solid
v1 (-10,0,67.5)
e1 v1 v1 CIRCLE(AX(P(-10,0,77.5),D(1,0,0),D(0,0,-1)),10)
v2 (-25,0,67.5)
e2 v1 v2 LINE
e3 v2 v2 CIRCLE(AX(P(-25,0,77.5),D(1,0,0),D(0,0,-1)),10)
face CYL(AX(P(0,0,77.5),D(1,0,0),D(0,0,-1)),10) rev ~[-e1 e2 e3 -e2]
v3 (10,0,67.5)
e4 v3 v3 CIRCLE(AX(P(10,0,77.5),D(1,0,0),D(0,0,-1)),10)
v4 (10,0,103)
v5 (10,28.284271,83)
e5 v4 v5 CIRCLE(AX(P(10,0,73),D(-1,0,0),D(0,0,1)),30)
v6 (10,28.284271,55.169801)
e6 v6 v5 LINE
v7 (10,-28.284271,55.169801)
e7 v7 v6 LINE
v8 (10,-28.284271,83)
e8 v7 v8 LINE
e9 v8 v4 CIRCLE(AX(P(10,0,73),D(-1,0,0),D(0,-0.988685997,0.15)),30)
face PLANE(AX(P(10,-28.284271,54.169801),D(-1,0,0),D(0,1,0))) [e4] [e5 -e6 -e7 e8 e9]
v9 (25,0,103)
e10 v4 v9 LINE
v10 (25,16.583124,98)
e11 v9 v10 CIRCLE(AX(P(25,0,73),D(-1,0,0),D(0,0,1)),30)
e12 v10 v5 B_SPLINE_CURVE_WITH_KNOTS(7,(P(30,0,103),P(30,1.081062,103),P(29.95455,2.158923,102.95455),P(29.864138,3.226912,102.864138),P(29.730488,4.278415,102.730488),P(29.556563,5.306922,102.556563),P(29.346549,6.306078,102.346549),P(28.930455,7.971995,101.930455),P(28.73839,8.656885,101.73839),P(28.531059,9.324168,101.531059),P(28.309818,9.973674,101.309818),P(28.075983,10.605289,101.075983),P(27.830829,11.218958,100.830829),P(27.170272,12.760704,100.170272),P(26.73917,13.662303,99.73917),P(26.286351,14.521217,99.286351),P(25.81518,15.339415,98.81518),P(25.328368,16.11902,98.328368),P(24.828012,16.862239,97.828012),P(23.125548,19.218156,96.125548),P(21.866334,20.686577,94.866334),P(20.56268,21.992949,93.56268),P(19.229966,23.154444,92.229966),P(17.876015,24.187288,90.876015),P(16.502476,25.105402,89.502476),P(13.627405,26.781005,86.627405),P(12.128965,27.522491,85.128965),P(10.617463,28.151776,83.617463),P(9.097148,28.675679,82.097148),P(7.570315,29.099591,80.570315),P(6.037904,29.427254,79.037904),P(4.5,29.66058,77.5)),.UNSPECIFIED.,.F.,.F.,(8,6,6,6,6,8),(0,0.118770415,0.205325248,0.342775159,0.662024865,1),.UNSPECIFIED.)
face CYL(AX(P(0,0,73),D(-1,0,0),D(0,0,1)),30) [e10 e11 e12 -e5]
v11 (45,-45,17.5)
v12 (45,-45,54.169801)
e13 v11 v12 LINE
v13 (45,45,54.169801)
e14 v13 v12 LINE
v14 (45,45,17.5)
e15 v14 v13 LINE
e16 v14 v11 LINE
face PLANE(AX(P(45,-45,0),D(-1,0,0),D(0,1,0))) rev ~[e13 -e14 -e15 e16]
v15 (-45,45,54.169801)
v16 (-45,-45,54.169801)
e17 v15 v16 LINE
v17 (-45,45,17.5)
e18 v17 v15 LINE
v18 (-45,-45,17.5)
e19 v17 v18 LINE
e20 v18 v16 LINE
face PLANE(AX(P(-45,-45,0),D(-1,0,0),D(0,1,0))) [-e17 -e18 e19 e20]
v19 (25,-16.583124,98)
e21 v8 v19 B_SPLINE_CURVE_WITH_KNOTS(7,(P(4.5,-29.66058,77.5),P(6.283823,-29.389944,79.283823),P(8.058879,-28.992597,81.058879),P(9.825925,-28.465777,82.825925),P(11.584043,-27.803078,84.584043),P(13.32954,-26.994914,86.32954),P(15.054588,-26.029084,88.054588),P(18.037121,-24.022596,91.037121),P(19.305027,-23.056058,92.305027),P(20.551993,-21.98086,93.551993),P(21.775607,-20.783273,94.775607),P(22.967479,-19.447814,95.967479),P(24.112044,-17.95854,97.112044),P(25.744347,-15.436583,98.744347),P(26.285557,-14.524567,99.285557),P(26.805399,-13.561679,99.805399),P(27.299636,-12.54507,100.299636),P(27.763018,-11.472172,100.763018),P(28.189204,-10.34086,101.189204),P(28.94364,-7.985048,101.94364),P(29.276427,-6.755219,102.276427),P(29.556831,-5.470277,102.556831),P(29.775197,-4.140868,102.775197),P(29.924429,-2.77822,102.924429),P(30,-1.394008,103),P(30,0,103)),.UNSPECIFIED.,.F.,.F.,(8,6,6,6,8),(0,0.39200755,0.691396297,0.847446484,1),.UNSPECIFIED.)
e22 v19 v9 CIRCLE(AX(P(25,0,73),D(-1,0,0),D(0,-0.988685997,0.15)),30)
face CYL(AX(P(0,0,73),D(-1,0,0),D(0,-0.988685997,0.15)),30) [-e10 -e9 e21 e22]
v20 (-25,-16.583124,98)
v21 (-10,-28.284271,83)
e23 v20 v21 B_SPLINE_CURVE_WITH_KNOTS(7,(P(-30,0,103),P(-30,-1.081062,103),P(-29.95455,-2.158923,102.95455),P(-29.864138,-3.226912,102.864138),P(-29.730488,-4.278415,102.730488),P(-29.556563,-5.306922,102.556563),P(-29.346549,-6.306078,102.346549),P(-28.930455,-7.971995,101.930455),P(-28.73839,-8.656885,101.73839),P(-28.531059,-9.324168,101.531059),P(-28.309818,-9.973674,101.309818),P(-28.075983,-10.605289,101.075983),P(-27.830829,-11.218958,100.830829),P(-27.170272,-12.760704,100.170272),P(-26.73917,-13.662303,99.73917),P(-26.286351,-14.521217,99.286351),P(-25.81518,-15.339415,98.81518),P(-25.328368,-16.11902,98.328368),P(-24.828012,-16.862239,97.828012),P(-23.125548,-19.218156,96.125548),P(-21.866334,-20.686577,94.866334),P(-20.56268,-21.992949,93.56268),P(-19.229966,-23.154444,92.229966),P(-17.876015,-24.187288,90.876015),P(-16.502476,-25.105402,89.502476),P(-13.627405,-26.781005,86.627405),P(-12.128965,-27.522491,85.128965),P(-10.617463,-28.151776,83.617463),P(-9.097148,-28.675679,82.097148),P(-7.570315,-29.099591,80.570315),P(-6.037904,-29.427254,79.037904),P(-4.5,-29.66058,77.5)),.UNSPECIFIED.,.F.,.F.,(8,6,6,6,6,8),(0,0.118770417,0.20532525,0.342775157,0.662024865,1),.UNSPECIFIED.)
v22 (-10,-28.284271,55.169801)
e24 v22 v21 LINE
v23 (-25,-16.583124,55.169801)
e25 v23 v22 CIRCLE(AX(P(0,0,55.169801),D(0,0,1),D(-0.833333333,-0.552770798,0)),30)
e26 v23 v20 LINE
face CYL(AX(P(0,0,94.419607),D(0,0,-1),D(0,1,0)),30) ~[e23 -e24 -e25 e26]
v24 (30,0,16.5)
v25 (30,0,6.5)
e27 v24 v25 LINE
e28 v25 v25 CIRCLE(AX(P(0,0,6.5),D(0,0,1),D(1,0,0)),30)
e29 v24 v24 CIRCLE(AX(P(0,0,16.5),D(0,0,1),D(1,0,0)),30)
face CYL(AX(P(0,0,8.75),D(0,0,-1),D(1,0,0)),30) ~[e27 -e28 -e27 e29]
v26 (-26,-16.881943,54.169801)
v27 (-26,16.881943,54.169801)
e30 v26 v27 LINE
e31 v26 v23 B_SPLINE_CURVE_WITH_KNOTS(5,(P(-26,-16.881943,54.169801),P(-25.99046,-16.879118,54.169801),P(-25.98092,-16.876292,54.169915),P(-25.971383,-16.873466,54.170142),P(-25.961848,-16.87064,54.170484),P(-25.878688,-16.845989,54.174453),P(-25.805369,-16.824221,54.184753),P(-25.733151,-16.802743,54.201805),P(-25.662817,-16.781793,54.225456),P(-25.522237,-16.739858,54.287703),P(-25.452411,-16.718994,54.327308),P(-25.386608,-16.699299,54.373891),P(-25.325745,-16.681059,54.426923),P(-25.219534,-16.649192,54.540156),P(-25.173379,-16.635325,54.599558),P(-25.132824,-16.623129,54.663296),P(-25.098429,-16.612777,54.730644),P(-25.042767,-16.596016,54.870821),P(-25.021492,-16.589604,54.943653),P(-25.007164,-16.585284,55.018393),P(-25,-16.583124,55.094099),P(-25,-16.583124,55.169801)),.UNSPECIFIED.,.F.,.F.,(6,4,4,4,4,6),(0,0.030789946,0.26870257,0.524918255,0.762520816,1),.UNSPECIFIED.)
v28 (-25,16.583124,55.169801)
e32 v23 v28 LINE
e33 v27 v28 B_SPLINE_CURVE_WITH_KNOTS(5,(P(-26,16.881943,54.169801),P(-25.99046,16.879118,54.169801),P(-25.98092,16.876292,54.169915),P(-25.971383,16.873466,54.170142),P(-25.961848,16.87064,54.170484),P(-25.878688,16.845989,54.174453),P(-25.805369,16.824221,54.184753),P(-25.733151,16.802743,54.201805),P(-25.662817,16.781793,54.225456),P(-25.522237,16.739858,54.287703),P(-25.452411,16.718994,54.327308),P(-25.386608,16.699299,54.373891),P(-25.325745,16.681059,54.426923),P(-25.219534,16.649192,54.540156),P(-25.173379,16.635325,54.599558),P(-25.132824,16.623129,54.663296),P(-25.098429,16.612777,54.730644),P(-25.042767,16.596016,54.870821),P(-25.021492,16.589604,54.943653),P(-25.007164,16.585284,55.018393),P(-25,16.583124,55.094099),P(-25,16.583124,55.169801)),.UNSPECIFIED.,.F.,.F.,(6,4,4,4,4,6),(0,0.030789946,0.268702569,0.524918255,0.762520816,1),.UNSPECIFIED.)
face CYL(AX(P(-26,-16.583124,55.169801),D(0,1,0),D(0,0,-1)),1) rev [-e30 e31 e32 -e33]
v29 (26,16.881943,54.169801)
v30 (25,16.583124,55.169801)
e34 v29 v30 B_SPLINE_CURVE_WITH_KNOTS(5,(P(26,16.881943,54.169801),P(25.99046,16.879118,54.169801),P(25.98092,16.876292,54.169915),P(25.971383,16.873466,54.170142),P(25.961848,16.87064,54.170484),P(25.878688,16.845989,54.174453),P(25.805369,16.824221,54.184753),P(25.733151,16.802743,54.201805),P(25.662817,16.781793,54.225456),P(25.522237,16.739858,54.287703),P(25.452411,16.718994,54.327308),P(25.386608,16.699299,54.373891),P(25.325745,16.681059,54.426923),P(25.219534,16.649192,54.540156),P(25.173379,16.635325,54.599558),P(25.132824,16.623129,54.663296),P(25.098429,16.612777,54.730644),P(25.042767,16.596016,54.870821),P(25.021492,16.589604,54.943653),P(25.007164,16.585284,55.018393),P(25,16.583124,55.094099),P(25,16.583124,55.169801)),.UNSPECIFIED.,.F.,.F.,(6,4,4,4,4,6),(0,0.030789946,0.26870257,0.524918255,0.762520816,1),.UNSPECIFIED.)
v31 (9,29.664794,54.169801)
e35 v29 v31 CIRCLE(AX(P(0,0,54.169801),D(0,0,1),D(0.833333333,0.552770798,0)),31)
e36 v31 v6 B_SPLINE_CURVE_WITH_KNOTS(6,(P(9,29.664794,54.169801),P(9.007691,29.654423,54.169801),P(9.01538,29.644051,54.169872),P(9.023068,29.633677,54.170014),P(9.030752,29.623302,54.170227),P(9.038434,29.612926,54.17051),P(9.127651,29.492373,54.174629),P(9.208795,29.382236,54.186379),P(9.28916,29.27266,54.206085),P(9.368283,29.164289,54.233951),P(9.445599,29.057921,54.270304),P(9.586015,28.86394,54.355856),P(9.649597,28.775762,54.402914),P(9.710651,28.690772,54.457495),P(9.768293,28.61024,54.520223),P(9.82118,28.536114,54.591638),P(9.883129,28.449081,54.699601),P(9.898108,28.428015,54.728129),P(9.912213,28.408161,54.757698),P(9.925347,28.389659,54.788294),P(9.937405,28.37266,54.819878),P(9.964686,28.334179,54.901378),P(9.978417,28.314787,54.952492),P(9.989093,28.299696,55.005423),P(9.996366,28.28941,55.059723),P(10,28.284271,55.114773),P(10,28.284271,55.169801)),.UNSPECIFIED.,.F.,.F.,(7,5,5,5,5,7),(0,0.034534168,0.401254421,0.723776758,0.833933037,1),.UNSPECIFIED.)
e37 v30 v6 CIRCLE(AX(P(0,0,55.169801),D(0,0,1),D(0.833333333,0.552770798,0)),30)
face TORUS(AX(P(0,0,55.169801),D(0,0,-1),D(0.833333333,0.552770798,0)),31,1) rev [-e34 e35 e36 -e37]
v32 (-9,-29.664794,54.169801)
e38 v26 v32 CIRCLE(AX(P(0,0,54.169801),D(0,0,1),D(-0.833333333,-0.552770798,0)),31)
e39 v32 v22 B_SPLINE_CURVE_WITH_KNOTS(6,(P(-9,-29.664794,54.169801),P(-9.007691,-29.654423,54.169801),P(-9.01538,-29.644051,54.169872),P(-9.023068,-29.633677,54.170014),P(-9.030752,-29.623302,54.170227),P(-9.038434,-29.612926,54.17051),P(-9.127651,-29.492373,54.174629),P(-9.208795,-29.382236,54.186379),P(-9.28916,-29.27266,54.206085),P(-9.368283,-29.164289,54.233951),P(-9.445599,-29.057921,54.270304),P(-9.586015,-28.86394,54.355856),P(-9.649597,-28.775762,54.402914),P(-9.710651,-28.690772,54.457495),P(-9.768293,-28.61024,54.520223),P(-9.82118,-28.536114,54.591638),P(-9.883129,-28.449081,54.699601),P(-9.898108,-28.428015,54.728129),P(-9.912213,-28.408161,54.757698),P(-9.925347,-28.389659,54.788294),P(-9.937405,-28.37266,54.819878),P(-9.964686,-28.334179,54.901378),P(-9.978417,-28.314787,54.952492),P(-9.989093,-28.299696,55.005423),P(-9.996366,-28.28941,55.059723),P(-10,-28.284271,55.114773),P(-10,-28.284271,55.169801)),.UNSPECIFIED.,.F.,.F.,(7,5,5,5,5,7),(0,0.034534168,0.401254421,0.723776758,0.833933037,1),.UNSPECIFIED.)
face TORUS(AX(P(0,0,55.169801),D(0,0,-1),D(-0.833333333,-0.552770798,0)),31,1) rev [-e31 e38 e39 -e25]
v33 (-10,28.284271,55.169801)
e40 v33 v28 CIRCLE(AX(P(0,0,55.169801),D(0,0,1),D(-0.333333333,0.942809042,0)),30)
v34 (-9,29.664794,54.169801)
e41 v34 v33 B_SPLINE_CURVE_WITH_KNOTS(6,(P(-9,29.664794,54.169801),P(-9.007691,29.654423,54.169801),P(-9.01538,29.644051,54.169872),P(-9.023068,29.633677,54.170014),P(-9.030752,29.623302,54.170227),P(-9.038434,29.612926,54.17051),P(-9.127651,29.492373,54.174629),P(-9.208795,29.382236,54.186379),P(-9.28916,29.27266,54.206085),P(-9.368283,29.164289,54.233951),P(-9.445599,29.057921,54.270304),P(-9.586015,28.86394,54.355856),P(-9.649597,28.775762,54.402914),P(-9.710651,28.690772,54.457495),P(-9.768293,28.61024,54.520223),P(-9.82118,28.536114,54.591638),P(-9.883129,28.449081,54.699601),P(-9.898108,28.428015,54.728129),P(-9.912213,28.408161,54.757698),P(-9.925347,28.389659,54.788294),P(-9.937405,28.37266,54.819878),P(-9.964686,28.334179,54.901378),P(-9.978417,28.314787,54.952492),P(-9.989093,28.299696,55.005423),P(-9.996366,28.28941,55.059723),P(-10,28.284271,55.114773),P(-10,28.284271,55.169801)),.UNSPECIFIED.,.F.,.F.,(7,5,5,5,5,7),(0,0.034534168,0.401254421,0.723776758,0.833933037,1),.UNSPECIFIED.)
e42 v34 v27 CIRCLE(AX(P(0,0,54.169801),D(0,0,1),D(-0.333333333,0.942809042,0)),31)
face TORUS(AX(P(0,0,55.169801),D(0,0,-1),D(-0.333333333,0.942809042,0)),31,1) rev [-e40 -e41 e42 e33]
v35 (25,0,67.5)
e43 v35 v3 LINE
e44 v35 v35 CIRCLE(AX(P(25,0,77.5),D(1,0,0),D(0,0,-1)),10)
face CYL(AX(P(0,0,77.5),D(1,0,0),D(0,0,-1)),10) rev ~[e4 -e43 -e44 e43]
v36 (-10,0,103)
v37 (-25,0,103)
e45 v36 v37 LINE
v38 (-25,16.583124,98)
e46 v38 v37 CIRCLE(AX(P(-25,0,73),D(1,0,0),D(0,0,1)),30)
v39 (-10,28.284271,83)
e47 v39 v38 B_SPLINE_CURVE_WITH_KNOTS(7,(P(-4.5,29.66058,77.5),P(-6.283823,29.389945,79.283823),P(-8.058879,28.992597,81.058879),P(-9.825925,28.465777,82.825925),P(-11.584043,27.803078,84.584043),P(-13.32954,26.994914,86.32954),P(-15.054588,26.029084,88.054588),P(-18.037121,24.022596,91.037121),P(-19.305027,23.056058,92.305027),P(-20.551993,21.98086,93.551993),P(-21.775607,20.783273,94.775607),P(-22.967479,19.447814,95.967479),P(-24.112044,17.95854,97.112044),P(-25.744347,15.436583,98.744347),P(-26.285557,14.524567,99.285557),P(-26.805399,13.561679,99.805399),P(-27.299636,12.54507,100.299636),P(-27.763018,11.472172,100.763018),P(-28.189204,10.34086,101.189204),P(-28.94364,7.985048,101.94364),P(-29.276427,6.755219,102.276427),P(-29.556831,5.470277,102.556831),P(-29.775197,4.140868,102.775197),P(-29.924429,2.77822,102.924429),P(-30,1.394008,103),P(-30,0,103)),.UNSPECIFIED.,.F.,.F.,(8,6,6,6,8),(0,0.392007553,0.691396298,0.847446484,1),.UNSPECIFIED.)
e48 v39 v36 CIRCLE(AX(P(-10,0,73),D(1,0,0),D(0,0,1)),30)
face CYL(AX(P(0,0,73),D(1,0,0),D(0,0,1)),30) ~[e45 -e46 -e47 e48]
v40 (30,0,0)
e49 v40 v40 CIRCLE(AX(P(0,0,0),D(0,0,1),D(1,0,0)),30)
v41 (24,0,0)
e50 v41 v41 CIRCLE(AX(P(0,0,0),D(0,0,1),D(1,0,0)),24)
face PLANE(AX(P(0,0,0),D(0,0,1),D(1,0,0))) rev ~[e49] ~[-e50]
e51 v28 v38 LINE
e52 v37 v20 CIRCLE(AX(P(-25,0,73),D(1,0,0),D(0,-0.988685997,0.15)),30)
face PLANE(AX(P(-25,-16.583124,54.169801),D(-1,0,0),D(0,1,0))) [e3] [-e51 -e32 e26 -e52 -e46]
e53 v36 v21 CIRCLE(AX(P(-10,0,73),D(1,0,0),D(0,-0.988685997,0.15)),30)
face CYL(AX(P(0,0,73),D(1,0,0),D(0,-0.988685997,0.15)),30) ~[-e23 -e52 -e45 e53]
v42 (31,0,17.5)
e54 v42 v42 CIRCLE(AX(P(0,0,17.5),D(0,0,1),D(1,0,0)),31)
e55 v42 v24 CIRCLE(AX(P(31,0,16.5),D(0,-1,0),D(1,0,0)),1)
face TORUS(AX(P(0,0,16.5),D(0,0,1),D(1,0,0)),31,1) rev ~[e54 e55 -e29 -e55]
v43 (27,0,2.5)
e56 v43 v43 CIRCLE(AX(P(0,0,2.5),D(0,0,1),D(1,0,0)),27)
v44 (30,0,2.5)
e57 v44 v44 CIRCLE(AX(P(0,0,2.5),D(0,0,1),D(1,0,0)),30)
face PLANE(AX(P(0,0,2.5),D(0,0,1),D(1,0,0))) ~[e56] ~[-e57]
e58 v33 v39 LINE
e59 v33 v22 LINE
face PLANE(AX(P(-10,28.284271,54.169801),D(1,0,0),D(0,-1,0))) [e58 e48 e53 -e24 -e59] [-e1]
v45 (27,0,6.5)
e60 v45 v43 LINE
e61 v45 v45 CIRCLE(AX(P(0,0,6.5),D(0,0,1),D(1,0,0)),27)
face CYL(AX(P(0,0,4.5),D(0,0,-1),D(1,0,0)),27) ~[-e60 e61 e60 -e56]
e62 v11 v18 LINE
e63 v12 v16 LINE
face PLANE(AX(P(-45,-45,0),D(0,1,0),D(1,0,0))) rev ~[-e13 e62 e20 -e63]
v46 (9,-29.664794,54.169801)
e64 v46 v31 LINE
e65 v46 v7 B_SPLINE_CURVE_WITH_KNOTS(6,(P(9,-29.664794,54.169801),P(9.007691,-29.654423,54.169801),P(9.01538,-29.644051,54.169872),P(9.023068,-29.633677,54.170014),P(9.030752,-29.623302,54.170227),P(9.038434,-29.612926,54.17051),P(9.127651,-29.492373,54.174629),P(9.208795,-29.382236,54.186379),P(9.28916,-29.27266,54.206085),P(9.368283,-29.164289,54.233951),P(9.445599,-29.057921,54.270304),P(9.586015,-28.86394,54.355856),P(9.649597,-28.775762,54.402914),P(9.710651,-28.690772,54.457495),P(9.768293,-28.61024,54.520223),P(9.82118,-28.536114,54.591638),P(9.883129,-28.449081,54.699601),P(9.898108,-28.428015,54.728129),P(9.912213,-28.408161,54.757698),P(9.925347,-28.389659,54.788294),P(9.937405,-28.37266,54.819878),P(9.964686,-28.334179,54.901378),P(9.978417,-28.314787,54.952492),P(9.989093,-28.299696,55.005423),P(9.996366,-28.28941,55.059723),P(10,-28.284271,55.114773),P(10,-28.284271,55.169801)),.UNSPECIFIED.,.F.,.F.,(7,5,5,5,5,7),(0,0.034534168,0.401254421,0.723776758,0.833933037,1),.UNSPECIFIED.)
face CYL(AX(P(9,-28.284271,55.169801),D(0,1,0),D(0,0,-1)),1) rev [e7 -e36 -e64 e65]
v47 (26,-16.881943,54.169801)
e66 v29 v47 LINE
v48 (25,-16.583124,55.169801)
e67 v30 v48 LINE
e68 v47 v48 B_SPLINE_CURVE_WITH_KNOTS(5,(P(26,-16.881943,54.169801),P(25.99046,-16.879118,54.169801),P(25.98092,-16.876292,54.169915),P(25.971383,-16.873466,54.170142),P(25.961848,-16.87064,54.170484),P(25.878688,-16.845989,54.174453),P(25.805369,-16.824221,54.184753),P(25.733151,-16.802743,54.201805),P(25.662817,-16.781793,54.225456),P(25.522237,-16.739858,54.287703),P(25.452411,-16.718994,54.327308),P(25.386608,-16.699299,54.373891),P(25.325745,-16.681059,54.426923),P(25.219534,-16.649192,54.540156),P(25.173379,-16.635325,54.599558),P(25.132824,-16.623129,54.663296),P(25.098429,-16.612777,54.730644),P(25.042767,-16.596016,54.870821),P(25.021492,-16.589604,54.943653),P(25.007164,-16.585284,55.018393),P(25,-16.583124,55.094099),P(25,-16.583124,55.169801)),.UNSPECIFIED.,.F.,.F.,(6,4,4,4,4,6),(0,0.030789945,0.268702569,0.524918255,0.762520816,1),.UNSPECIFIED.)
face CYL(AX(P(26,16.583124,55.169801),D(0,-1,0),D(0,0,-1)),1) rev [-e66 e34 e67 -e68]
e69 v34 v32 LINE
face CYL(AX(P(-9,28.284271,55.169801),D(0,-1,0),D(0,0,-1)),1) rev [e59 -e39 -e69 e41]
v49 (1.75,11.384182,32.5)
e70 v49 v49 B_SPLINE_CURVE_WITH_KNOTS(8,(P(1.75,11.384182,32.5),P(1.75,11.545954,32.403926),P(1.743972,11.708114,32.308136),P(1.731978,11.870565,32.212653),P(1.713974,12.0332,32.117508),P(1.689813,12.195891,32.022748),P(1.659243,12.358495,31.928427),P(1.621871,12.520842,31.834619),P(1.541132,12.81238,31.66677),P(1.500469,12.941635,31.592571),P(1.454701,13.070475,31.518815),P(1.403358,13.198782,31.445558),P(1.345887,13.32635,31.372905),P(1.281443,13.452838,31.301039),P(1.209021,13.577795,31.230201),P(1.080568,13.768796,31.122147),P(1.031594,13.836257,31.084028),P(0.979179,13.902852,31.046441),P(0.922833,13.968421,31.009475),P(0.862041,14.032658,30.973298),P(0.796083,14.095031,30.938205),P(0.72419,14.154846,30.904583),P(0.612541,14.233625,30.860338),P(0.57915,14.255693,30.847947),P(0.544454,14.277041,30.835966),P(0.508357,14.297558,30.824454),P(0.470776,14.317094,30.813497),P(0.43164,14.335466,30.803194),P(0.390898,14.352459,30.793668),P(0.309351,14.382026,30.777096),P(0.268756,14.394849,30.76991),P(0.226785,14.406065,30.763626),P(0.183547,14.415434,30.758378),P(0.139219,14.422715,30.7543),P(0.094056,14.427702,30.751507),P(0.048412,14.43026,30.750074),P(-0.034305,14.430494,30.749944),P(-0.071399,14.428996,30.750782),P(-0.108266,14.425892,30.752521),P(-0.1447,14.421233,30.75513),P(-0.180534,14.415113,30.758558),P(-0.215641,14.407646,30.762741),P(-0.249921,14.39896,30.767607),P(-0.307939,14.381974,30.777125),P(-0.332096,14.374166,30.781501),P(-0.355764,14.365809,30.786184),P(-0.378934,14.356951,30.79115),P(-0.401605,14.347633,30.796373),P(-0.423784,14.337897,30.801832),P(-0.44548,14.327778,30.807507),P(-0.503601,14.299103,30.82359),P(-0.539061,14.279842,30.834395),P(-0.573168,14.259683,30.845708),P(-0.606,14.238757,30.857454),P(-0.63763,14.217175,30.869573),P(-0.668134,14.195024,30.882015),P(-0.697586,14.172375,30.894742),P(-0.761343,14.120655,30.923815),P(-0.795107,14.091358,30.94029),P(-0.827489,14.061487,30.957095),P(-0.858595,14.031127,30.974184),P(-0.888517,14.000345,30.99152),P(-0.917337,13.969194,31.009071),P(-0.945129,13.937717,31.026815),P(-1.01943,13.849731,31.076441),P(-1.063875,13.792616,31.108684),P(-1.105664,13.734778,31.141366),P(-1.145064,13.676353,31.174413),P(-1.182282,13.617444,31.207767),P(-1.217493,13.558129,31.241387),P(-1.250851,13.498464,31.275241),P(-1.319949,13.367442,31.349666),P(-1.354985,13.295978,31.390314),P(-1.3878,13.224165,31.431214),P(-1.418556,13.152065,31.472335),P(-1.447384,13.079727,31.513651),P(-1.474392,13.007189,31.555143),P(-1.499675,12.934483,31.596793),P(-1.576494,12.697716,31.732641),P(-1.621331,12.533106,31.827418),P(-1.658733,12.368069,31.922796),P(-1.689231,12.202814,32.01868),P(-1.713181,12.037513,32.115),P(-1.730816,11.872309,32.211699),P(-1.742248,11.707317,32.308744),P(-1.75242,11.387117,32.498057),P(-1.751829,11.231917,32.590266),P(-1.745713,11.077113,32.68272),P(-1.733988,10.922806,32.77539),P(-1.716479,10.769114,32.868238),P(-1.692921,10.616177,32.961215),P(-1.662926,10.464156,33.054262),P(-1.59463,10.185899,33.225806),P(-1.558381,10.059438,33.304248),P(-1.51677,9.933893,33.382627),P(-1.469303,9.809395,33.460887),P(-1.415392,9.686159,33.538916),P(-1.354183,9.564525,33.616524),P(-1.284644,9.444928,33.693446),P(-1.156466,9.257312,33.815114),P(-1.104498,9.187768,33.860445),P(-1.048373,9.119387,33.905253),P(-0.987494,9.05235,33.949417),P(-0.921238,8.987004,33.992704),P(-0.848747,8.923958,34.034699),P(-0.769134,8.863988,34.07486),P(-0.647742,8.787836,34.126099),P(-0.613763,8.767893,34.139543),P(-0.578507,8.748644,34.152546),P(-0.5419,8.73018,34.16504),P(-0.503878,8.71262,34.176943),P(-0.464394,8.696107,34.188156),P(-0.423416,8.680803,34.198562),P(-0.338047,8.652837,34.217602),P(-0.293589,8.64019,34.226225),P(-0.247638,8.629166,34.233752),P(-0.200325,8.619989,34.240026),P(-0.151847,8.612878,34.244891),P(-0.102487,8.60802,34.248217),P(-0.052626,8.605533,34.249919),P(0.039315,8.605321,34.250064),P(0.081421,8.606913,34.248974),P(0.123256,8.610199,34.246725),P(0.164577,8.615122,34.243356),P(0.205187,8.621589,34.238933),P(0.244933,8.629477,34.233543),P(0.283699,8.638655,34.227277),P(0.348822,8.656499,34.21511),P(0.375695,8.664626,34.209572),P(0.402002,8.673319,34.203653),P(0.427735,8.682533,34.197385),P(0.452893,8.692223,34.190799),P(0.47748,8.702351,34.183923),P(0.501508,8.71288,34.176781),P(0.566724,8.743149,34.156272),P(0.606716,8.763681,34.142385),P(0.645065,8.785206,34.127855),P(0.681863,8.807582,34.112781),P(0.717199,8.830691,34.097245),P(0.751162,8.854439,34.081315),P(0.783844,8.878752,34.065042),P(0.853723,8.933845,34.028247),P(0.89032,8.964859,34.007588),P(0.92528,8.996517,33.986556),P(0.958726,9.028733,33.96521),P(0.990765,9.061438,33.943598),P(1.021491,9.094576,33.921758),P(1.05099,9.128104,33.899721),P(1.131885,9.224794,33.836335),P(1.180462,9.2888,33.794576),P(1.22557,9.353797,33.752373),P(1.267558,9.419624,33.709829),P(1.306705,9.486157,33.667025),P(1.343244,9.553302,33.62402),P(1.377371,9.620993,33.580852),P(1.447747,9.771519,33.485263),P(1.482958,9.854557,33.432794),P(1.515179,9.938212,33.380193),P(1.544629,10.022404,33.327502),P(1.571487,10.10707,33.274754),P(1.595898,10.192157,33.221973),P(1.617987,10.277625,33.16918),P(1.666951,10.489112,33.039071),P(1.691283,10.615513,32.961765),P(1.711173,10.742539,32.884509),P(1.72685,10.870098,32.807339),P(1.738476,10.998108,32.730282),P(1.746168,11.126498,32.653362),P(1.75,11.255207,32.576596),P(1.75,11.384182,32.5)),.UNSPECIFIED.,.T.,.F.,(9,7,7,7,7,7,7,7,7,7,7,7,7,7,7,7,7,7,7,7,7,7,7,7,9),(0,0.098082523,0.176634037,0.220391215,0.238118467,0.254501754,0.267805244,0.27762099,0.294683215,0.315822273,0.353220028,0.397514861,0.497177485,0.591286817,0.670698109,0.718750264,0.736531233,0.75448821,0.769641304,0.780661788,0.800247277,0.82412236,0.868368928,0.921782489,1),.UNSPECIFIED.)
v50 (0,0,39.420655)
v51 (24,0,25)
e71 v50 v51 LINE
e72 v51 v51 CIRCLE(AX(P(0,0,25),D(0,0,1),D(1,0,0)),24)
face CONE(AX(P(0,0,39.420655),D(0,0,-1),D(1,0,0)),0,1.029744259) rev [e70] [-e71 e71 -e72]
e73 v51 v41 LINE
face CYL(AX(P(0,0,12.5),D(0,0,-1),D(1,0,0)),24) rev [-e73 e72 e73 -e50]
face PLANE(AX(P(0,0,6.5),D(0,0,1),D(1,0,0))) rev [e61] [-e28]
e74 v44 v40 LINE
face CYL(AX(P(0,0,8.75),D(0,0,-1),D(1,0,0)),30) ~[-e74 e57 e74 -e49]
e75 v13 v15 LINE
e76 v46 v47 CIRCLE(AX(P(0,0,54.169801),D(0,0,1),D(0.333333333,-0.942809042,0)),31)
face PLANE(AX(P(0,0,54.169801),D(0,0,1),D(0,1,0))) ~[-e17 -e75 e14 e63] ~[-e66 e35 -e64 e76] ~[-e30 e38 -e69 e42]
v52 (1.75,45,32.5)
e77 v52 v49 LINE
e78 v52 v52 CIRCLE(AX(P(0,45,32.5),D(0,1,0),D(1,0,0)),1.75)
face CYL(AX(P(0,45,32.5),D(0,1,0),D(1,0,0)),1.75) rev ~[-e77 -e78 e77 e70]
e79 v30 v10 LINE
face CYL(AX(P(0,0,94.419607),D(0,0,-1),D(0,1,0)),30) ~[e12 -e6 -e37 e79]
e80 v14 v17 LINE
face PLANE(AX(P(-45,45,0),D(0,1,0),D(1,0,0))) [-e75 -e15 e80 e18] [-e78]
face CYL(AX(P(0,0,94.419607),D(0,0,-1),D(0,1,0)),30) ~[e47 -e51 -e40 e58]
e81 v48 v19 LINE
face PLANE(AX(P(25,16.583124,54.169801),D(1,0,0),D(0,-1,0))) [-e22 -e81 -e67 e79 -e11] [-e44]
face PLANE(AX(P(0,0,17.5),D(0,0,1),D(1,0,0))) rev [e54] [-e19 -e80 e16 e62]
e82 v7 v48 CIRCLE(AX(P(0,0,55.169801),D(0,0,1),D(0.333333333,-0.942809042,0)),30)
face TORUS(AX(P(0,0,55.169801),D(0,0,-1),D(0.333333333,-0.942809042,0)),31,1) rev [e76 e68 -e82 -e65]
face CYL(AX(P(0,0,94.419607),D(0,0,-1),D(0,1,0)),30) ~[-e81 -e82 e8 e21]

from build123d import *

# Parameters (mm, degrees)
SKETCH2_W               = 90
SKETCH2_H               = 90
BOSS_EXTRUDE1_DEPTH     = 103
SKETCH4_W               = 24
SKETCH4_H               = 25
SKETCH4_W_2             = 40
SKETCH4_H_2             = 17.5
SKETCH4_W_3             = 3
SKETCH4_H_3             = 4
SKETCH5_R               = 10
CUT_EXTRUDE1_DEPTH      = 46
CUT_EXTRUDE1_DEPTH_BACK = 46
SKETCH6_W               = 80.499612835
SKETCH6_H               = 43.101198191
CUT_EXTRUDE2_DEPTH      = 46
CUT_EXTRUDE2_DEPTH_BACK = 46
CUT_EXTRUDE3_DEPTH      = 103
CUT_EXTRUDE4_REACH      = 92
SKETCH10_R              = 1.75
FILLET1_R               = 1


with BuildPart() as part:
    # Sketch2 → Boss-Extrude1 (new body)
    with BuildSketch(Plane.XY):
        Rectangle(SKETCH2_W, SKETCH2_H)
    extrude(amount=BOSS_EXTRUDE1_DEPTH)

    # Sketch4 → Cut-Revolve2 (revolve, cut)
    with BuildSketch(Plane(origin=(0, 0, 0), x_dir=(1, 0, 0), z_dir=(0, 1, 0))):
        with Locations((12, -12.5)):
            Rectangle(SKETCH4_W, SKETCH4_H)
        Polygon((0, -25), (0, -39.420654857), (24, -25), align=None)
        with Locations((50, -8.75)):
            Rectangle(SKETCH4_W_2, SKETCH4_H_2)
        with Locations((28.5, -4.5)):
            Rectangle(SKETCH4_W_3, SKETCH4_H_3)
    revolve(axis=Axis((0, 0, 0), (0, 0, 1)), mode=Mode.SUBTRACT)

    # Sketch5 → Cut-Extrude1 (cut, two sides)
    with BuildSketch(Plane(origin=(0, 0, 0), x_dir=(0, 0, -1), z_dir=(1, 0, 0))) as cut_extrude1_sk:
        with Locations((-77.5, 0)):
            Circle(SKETCH5_R)
    extrude(amount=CUT_EXTRUDE1_DEPTH, mode=Mode.SUBTRACT)
    extrude(cut_extrude1_sk.sketch, amount=-CUT_EXTRUDE1_DEPTH_BACK, mode=Mode.SUBTRACT)

    # Sketch6 → Cut-Revolve3 (revolve, cut)
    with BuildSketch(Plane(origin=(0, 0, 0), x_dir=(0, 0, -1), z_dir=(1, 0, 0))):
        with Locations((-94.419607416, 51.550599096)):
            Rectangle(SKETCH6_W, SKETCH6_H)
    revolve(axis=Axis((0, 0, 0), (0, 0, 1)), mode=Mode.SUBTRACT)

    # Sketch7 → Cut-Extrude2 (cut, two sides)
    with BuildSketch(Plane(origin=(0, 0, 0), x_dir=(0, 0, -1), z_dir=(1, 0, 0))) as cut_extrude2_sk:
        with BuildLine():
            Line((-103, 30), (-103, 0))
            ThreePointArc((-103, 0), (-95.748626332, 19.557607216), (-77.5, 29.6605799))
            Line((-77.5, 29.6605799), (-77.5, 30))
            Line((-77.5, 30), (-103, 30))
        make_face()
        with BuildLine():
            ThreePointArc((-77.5, -29.6605799), (-95.748626332, -19.557607216), (-103, 0))
            Line((-103, 0), (-103, -30))
            Line((-103, -30), (-77.5, -30))
            Line((-77.5, -30), (-77.5, -29.6605799))
        make_face()
    extrude(amount=CUT_EXTRUDE2_DEPTH, mode=Mode.SUBTRACT)
    extrude(cut_extrude2_sk.sketch, amount=-CUT_EXTRUDE2_DEPTH_BACK, mode=Mode.SUBTRACT)

    # Sketch8 → Cut-Extrude3 (cut)
    with BuildSketch(Plane.XY.offset(54.169800998)):
        with BuildLine():
            ThreePointArc((30, 0), (28.722813233, 8.660254038), (25, 16.583123952))
            Line((25, 16.583123952), (25, -16.583123952))
            ThreePointArc((25, -16.583123952), (28.722813233, -8.660254038), (30, 0))
        make_face()
        with BuildLine():
            Line((-25, -16.583123952), (-25, 16.583123952))
            ThreePointArc((-25, 16.583123952), (-30, 0), (-25, -16.583123952))
        make_face()
        with BuildLine():
            ThreePointArc((10, 28.284271247), (0, 30), (-10, 28.284271247))
            Line((-10, 28.284271247), (-10, -28.284271247))
            ThreePointArc((-10, -28.284271247), (0, -30), (10, -28.284271247))
            Line((10, -28.284271247), (10, 28.284271247))
        make_face()
    extrude(amount=CUT_EXTRUDE3_DEPTH, mode=Mode.SUBTRACT)

    # Sketch10 → Cut-Extrude4 (cut, up to next)
    with BuildSketch(Plane(origin=(0, 45, 0), x_dir=(1, 0, 0), z_dir=(0, 1, 0)), mode=Mode.PRIVATE) as cut_extrude4_sk1:
        with Locations((0, -32.5)):
            Circle(SKETCH10_R)
    cut_extrude4_tool1 = extrude(cut_extrude4_sk1.sketch, amount=-CUT_EXTRUDE4_REACH, mode=Mode.PRIVATE) & part.part
    add(cut_extrude4_tool1.solids().sort_by_distance((0, 45, 32.5))[0], mode=Mode.SUBTRACT)

    # Fillet1
    fillet1_edges = [part.edges().sort_by_distance(p)[0] for p in [
        (18.452078799, 23.654191764, 54.169800998),
        (18.452078799, -23.654191764, 54.169800998),
        (-18.452078799, -23.654191764, 54.169800998),
        (25, 0, 54.169800998),
        (-25, 0, 54.169800998),
        (-10, 0, 54.169800998),
        (10, 0, 54.169800998),
        (-30, 0, 17.5),
        (-18.452078799, 23.654191764, 54.169800998),
    ]]
    fillet(fillet1_edges, radius=FILLET1_R)


solid = part.part
